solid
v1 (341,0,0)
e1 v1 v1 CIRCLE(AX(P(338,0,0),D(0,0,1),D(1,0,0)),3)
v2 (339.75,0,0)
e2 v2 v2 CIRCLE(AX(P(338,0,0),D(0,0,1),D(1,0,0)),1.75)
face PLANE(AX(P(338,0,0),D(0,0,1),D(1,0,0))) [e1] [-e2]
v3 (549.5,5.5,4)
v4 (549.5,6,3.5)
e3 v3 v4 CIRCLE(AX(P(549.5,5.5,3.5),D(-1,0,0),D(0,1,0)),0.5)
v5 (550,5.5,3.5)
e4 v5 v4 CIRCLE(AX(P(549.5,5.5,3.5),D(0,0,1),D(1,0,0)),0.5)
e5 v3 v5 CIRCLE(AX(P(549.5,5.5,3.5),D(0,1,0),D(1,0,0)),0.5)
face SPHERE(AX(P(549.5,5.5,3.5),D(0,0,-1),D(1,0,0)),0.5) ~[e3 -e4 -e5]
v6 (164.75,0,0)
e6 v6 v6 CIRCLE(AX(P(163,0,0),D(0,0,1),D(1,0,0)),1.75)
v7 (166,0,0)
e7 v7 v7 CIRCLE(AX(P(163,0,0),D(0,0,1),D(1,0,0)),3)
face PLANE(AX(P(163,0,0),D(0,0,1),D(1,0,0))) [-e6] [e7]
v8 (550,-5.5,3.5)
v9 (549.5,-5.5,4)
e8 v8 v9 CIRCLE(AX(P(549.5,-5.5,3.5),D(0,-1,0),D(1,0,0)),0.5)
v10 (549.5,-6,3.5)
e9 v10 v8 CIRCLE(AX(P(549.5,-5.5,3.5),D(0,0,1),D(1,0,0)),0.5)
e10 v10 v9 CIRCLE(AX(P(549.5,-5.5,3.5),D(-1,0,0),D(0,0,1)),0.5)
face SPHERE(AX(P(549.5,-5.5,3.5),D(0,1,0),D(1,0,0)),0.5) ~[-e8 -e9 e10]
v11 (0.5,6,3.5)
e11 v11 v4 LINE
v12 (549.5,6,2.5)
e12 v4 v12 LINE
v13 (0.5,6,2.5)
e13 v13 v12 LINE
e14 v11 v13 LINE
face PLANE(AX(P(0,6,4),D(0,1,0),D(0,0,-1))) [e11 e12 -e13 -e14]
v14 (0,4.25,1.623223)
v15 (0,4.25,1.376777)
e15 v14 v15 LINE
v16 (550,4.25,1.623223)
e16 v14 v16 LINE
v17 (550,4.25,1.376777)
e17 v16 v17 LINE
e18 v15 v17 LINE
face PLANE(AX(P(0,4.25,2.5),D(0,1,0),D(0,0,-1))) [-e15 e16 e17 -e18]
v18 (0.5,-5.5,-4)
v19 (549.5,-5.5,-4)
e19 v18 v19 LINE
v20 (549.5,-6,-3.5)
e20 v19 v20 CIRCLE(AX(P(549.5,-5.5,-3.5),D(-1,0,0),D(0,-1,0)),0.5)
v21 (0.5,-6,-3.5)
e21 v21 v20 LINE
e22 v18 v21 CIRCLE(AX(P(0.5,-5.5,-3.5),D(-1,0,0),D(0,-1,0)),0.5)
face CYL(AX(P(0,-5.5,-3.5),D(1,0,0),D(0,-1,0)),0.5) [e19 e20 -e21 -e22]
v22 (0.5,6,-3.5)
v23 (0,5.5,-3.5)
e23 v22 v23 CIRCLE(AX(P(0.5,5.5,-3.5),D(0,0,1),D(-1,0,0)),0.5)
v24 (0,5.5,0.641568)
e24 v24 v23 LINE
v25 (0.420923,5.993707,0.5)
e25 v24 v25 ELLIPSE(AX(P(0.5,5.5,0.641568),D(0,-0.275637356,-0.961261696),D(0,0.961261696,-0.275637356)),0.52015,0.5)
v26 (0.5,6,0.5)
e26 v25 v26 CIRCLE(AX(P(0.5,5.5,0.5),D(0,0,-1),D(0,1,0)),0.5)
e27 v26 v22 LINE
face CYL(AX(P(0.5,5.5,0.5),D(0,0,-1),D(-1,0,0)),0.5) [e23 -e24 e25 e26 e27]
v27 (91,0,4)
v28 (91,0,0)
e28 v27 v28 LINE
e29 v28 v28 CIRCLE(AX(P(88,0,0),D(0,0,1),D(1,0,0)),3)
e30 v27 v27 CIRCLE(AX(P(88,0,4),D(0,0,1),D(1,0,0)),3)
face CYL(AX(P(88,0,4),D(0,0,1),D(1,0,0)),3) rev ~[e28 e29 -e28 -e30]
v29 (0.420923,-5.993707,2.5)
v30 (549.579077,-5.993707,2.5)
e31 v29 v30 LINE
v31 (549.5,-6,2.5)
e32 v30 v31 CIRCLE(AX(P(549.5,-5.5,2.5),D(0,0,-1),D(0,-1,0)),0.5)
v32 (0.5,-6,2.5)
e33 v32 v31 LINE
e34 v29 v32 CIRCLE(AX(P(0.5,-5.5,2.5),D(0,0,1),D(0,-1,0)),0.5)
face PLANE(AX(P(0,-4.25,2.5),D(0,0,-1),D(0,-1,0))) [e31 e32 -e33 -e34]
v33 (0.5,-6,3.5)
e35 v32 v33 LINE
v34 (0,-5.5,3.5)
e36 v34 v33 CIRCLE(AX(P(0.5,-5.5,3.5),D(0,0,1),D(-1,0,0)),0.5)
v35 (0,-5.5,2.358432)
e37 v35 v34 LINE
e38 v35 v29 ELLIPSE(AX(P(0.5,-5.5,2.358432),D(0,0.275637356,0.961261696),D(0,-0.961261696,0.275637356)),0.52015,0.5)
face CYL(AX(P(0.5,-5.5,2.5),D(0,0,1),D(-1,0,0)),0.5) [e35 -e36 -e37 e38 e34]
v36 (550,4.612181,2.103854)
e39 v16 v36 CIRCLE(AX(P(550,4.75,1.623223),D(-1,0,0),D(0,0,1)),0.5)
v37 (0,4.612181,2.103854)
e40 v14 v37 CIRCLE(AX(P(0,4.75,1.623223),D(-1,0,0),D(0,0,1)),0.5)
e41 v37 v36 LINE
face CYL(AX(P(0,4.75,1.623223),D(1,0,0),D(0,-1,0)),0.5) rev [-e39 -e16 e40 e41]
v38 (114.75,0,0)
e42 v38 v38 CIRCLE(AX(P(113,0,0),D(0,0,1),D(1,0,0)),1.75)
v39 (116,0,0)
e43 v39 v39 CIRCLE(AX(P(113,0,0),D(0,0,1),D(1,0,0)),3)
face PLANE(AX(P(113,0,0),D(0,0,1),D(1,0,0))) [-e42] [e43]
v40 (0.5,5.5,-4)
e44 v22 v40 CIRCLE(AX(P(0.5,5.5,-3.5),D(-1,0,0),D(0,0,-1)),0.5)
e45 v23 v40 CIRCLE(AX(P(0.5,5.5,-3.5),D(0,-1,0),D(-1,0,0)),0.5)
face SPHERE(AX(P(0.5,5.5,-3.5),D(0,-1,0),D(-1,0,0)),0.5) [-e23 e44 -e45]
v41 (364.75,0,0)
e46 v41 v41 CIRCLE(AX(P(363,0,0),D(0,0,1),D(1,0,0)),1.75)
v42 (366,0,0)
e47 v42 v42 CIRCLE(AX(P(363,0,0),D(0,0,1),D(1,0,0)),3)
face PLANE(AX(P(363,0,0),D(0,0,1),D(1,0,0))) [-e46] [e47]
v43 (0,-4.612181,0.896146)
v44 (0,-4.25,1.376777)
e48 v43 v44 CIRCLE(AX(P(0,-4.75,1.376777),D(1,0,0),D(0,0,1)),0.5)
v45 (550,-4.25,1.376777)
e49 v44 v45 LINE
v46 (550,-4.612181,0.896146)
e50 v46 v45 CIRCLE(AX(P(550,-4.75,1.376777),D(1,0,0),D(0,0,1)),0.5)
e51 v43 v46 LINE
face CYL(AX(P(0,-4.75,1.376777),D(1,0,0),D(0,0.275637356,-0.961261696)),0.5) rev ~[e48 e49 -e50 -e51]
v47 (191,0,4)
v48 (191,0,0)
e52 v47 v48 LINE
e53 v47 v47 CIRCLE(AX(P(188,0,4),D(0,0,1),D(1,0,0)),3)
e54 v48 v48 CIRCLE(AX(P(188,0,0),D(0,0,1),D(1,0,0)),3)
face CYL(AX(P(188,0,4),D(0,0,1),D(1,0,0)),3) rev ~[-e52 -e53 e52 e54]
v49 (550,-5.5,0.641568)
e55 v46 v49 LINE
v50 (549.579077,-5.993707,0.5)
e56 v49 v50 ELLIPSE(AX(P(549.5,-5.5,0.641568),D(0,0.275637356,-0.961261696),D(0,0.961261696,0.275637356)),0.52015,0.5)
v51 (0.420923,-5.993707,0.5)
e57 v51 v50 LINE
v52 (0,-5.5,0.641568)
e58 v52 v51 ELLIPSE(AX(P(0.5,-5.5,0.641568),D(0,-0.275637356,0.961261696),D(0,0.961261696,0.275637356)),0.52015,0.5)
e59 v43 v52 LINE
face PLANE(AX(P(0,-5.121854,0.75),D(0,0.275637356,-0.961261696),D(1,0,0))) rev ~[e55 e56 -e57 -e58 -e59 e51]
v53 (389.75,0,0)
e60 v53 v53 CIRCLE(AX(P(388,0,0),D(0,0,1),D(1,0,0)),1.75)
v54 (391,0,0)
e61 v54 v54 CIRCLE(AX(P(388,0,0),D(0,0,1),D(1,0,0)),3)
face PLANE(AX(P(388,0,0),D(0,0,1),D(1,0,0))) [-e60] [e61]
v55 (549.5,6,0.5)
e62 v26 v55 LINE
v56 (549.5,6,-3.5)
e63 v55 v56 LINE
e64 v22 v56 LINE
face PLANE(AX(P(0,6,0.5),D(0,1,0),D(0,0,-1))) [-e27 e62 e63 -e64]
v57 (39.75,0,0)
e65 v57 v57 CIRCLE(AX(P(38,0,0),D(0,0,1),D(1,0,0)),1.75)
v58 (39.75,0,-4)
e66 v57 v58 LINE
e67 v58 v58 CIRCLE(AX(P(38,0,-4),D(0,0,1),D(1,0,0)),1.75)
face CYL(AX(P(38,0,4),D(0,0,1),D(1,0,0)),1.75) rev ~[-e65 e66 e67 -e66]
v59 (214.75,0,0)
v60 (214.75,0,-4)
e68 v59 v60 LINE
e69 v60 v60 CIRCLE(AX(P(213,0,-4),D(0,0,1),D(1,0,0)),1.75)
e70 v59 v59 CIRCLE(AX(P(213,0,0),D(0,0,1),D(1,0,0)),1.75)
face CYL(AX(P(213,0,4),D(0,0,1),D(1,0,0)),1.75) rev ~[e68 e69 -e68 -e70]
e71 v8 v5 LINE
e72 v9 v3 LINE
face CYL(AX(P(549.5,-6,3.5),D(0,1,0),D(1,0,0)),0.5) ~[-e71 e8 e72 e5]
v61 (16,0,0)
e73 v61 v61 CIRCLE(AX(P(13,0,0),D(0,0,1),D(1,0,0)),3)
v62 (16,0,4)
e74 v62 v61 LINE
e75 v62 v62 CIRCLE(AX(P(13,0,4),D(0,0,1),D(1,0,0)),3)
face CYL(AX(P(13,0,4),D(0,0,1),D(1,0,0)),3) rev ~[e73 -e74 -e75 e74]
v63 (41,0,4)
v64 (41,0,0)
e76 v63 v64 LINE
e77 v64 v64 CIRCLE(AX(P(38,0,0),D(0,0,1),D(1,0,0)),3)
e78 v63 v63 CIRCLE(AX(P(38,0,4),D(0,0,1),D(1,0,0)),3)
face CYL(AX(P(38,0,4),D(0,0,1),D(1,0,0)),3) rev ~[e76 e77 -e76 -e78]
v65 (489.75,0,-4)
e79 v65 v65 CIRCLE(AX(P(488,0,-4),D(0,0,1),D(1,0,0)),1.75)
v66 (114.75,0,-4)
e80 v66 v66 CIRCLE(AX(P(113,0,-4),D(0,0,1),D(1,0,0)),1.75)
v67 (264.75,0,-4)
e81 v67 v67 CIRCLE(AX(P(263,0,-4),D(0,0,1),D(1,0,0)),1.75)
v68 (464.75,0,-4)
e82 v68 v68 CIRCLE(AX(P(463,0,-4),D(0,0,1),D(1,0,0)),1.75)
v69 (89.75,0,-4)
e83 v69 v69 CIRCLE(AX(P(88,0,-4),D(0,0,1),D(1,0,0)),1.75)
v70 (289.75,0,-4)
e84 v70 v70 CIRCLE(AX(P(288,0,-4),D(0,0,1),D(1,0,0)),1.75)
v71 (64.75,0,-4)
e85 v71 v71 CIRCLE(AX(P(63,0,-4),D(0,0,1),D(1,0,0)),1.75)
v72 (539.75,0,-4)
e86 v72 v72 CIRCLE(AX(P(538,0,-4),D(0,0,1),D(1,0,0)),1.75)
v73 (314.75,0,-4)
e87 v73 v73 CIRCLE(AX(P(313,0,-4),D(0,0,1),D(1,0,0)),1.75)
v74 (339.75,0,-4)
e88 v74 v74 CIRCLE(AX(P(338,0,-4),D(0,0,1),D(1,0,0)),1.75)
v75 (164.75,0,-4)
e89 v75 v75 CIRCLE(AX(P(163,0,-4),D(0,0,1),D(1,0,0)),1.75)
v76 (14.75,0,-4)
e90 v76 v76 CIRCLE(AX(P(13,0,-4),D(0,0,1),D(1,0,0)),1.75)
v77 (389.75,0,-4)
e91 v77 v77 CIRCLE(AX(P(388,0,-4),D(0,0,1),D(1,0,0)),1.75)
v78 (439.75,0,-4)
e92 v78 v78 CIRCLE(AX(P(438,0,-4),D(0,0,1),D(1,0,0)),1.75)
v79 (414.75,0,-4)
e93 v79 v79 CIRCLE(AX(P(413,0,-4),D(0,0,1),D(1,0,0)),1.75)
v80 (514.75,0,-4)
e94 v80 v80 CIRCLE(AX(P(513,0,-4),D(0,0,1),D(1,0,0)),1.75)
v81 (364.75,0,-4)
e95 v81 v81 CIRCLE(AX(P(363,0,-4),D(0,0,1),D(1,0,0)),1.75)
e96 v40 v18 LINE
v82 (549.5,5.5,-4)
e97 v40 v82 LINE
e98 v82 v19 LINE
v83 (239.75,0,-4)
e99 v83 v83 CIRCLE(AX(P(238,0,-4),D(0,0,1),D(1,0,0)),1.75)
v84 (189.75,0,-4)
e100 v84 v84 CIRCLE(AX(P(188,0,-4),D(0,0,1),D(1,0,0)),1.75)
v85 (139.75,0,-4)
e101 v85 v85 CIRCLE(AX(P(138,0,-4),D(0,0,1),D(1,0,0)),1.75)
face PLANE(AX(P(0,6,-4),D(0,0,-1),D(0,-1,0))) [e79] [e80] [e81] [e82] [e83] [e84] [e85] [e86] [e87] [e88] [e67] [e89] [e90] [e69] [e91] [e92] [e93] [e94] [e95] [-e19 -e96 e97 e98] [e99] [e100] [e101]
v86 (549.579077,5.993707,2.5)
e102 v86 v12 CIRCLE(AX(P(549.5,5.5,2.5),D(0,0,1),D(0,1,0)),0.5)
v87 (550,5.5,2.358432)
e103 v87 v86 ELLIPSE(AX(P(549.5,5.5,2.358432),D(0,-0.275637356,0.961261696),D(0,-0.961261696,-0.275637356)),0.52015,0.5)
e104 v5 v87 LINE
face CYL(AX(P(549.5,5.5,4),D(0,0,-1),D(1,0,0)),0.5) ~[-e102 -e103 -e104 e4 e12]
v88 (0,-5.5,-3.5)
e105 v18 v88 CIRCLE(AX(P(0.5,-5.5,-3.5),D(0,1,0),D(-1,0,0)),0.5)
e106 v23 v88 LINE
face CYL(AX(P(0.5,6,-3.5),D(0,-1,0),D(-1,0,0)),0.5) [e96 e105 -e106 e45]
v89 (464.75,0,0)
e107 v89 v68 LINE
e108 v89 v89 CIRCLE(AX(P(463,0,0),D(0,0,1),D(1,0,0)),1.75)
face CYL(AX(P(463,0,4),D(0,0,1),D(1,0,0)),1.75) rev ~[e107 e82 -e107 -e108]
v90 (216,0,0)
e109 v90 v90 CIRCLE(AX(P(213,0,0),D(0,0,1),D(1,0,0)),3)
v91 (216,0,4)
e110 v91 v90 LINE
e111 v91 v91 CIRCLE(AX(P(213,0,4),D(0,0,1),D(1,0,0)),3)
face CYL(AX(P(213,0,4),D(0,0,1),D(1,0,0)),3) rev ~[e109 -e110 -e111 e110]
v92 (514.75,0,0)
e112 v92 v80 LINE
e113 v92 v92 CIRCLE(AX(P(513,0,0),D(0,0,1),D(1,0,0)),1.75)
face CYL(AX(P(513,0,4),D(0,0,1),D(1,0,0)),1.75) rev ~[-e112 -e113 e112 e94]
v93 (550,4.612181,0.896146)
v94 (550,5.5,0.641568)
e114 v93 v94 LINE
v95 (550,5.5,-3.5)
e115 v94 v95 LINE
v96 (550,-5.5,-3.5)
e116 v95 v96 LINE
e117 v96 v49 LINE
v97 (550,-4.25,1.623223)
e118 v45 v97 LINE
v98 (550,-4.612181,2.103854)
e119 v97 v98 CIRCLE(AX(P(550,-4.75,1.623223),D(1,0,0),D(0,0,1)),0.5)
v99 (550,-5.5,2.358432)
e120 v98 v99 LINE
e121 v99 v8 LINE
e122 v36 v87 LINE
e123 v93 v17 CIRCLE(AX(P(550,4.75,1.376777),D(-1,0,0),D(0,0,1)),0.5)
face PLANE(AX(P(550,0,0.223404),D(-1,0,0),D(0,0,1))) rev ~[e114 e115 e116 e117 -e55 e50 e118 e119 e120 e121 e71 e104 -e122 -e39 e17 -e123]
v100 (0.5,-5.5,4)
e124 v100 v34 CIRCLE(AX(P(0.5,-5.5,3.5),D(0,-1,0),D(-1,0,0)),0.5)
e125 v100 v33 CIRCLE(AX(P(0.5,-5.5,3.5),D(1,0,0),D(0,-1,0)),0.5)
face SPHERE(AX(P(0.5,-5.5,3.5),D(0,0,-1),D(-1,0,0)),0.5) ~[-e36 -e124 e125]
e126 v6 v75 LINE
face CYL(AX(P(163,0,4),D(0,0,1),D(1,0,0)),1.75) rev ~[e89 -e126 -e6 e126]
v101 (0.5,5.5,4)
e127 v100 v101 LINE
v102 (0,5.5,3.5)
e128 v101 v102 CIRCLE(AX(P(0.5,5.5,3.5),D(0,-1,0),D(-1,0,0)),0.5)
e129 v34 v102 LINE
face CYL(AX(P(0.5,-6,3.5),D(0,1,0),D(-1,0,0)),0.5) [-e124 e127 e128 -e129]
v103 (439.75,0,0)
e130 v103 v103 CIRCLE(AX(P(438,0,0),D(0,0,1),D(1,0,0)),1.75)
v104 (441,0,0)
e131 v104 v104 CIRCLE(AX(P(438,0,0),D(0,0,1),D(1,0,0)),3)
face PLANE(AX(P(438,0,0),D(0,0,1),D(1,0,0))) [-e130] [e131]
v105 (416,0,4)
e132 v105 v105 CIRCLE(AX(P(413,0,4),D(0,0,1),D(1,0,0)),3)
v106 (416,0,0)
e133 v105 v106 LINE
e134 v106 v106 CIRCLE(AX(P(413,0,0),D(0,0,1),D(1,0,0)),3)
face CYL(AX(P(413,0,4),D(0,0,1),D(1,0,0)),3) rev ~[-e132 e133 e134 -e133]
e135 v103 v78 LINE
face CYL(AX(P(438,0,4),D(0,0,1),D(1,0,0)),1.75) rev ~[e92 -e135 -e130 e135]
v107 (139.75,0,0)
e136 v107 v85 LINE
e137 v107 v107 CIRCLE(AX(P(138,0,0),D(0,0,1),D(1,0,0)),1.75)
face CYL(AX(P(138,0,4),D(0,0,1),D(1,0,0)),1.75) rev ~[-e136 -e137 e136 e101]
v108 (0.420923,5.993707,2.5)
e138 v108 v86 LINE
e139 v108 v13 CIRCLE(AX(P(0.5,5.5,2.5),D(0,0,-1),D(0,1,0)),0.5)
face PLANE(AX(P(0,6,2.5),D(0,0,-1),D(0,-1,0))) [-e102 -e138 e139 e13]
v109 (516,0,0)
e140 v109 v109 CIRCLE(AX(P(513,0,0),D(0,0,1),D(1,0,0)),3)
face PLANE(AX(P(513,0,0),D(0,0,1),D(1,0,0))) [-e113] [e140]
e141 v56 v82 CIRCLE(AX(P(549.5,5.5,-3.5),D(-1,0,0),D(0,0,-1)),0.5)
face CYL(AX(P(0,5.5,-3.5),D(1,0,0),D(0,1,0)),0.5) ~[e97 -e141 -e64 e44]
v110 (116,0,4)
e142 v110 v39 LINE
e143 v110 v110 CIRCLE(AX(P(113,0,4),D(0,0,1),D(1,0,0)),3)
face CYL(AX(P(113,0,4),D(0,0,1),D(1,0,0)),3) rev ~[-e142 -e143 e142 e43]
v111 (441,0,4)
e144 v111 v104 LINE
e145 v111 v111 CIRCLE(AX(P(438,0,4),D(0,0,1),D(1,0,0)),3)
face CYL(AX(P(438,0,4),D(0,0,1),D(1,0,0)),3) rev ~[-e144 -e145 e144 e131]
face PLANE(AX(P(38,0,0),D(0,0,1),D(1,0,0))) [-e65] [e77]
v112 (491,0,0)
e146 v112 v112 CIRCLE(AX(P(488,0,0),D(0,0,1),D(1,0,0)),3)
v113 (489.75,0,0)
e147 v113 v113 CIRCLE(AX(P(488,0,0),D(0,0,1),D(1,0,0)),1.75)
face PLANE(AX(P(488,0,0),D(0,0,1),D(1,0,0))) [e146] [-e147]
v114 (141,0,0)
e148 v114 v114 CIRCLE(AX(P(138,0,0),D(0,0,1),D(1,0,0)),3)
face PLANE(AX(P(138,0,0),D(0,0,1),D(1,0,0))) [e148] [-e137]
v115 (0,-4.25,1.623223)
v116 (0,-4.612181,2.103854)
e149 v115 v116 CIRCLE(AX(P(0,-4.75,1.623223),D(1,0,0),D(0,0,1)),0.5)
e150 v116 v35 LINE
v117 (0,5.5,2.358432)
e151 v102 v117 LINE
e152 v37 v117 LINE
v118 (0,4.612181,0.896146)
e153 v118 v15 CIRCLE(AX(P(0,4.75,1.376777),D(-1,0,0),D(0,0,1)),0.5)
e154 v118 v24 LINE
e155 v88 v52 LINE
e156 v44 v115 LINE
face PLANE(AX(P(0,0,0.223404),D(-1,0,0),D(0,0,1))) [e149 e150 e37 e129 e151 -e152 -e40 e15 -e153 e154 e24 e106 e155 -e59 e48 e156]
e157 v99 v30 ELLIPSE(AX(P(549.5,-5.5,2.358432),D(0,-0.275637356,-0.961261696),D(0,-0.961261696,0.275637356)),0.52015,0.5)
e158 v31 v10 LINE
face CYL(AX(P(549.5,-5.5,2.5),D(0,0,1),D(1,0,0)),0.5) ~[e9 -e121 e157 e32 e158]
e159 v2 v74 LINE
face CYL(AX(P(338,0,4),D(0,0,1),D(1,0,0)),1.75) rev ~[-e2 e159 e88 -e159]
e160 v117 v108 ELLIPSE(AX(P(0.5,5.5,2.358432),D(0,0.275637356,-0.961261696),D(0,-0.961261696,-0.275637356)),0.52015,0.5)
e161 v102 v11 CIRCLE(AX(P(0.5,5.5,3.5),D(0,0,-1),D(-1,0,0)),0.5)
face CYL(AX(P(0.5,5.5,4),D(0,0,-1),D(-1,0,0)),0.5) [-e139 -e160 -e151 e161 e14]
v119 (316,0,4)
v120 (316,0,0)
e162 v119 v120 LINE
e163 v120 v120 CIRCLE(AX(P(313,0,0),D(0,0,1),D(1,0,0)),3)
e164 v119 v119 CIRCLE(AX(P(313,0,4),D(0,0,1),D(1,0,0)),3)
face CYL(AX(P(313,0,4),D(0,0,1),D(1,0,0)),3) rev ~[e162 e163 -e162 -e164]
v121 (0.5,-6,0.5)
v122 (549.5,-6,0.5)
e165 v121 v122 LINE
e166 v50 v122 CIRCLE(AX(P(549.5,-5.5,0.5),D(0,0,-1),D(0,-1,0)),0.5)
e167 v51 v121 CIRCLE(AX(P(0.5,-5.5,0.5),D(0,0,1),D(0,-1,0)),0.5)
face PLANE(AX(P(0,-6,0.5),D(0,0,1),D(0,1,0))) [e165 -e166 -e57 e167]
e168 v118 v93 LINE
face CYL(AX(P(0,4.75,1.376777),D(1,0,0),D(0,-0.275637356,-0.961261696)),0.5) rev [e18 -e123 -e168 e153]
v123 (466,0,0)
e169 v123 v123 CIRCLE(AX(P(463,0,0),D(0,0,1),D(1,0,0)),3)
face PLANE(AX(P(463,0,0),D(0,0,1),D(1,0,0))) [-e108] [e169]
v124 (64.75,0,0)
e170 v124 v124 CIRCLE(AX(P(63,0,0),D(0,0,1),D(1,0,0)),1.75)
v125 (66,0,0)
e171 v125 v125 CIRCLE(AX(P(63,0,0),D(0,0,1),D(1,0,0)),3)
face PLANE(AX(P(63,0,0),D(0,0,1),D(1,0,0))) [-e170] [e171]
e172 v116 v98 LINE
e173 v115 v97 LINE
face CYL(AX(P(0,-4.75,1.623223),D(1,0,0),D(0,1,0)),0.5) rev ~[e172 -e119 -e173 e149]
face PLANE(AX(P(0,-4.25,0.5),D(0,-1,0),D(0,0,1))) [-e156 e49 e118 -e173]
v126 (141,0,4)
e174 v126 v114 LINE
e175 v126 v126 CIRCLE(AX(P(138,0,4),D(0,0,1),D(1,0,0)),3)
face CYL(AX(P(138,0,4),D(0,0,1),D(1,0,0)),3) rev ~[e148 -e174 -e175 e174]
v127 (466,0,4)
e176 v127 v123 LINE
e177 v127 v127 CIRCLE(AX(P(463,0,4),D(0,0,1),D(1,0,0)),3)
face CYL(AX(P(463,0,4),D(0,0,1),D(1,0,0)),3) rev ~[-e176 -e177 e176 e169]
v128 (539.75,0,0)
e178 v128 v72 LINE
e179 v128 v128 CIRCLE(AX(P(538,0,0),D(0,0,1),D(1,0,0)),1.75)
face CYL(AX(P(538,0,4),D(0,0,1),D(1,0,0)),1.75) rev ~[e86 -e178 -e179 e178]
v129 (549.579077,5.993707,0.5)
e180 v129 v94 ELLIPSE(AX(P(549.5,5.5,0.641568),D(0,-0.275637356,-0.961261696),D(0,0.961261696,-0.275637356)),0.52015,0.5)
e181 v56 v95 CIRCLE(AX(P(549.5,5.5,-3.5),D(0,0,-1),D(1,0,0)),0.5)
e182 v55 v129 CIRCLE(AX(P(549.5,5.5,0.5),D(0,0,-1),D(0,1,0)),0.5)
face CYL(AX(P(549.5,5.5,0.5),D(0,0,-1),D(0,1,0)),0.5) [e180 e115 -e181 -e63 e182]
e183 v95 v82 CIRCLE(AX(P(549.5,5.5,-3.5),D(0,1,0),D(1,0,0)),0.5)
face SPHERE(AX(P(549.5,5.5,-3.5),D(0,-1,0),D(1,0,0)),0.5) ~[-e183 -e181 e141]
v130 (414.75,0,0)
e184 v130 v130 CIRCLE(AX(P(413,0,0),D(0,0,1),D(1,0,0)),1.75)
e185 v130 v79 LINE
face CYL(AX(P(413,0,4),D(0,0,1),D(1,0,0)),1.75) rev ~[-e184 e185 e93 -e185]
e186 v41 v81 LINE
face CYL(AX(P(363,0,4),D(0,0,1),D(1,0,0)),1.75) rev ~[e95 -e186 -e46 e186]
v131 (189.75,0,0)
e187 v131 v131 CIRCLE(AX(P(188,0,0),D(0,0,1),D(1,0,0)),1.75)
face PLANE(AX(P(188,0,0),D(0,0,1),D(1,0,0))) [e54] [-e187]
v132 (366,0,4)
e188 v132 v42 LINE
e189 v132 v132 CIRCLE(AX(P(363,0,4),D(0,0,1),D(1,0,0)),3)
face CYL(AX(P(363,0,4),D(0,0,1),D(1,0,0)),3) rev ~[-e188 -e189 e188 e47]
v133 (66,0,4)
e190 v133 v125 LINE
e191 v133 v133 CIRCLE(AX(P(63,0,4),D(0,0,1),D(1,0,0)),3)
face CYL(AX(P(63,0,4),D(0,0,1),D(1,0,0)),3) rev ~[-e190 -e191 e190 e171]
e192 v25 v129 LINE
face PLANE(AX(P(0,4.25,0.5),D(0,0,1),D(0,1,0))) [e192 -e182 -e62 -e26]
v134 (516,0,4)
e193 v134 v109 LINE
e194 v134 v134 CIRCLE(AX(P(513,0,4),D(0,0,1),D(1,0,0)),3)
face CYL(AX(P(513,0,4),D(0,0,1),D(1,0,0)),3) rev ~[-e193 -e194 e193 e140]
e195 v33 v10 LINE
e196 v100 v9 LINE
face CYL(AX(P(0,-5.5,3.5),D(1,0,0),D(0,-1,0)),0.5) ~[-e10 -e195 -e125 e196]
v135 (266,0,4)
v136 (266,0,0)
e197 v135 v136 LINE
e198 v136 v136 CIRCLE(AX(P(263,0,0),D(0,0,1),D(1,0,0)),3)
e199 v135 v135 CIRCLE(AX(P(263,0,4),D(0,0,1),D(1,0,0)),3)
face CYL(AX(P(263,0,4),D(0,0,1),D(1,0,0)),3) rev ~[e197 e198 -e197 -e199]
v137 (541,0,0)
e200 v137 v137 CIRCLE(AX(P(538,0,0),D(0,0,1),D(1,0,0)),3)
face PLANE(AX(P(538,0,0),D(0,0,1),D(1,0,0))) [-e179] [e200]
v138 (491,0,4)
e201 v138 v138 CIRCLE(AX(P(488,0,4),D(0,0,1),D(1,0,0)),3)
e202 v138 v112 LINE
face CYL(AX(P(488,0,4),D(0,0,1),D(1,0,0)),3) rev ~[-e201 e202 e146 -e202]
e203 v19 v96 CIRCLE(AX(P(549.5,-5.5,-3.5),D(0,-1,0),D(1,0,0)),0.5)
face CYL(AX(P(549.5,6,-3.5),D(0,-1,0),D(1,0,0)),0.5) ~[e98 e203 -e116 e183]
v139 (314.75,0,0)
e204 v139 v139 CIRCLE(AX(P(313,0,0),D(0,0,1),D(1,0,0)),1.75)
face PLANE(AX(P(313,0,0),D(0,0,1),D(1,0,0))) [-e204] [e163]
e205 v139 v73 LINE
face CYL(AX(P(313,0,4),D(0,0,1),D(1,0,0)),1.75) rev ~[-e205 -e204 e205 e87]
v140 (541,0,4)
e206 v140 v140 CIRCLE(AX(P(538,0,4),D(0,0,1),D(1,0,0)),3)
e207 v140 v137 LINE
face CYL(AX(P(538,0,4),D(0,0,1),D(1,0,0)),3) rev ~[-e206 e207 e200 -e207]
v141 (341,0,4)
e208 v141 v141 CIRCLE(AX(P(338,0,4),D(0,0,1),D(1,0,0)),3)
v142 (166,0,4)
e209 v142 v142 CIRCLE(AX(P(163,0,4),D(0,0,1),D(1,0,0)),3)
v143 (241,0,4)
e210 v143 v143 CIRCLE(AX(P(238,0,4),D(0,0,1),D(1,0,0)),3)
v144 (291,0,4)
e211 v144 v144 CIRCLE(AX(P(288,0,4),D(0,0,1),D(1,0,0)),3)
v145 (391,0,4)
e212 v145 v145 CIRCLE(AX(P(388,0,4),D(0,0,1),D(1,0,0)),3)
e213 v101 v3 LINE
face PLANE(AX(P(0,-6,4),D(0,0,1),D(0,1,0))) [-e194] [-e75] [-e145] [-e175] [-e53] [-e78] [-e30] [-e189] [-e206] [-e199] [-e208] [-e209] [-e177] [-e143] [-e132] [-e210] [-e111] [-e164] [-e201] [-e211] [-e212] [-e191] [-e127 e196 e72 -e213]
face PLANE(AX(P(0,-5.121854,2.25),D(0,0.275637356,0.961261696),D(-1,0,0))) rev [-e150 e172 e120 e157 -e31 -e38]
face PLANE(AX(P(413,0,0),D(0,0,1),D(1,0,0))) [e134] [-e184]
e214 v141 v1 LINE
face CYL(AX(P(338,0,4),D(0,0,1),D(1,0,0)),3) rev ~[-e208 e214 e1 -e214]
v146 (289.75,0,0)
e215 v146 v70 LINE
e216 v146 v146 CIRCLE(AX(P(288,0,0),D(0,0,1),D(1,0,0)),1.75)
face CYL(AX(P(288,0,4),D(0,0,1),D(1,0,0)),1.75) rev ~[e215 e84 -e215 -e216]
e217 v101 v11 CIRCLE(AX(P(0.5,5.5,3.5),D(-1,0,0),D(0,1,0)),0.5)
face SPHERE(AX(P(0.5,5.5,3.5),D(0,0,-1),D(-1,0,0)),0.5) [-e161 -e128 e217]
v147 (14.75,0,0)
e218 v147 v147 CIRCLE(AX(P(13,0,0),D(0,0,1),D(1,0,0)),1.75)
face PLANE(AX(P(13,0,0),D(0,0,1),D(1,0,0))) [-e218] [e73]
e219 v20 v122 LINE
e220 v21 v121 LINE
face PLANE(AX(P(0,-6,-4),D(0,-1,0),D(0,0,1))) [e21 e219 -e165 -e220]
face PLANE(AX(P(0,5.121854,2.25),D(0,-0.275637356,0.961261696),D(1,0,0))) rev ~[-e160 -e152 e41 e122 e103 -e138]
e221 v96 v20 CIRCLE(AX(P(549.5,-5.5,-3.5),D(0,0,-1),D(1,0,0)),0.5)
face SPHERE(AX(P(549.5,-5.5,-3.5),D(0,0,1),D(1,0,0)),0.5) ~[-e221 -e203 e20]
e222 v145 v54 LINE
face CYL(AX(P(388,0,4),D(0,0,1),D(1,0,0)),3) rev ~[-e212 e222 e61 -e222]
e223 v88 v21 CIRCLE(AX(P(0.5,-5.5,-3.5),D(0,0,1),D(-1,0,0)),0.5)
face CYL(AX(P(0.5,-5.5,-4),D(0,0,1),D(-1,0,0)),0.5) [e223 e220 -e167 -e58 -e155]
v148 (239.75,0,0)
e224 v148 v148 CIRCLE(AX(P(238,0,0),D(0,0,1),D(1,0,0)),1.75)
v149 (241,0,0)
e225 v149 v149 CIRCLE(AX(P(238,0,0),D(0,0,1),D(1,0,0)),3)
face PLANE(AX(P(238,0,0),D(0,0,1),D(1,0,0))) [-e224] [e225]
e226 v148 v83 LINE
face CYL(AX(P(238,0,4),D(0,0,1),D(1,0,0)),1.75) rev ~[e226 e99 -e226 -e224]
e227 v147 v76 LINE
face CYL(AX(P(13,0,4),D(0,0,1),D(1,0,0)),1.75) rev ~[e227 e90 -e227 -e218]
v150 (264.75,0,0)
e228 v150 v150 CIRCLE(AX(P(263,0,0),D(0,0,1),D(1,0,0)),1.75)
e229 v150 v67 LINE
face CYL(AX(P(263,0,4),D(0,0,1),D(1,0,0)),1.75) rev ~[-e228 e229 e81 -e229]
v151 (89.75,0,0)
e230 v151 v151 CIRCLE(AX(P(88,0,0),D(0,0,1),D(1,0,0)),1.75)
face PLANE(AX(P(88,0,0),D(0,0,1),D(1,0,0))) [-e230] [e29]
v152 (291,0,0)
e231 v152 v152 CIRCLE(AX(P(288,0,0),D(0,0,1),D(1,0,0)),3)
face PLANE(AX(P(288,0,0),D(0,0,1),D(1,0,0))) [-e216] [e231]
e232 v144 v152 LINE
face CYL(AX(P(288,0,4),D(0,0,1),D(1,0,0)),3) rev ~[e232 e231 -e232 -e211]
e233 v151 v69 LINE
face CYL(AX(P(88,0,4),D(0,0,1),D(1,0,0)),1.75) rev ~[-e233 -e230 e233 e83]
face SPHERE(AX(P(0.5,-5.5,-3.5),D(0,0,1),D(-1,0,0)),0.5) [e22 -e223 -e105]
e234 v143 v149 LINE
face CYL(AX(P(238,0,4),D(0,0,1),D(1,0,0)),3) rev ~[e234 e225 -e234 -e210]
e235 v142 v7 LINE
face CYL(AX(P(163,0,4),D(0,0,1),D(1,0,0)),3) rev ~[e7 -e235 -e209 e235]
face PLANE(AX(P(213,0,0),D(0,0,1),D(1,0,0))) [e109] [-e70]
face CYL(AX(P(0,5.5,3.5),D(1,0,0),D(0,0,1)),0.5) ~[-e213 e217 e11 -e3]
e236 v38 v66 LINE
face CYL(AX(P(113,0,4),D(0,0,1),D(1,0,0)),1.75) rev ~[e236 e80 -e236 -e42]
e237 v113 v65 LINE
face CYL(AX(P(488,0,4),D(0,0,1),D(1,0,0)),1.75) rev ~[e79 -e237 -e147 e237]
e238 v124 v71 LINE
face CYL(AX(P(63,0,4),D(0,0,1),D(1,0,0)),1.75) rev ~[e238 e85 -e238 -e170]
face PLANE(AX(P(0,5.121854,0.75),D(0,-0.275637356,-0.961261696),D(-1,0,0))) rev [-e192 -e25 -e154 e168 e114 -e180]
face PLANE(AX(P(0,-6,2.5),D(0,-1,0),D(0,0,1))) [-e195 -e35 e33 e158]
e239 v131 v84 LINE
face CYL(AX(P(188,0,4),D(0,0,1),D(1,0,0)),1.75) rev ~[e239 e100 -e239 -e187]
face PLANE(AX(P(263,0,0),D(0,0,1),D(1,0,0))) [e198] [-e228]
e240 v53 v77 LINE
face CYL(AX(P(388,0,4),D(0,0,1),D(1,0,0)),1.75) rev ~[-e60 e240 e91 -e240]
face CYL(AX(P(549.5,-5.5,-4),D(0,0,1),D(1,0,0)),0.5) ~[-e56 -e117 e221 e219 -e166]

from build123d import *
from OCP.BRepFilletAPI import BRepFilletAPI_MakeChamfer

# Parameters (mm, degrees)
BOSS_EXTRUDE1_DEPTH = 550
SKETCH2_R           = 1.75
CUT_EXTRUDE1_DEPTH  = 10
SKETCH3_R           = 3
CUT_EXTRUDE2_DEPTH  = 4
CHAMFER1_SIZE       = 0.5
CHAMFER1_SIZE2      = 1.743707222
FILLET1_R           = 0.5


with BuildPart() as part:
    # Sketch1 → Boss-Extrude1 (new body)
    with BuildSketch(Plane(origin=(0, 0, 0), x_dir=(0, 0, -1), z_dir=(1, 0, 0))):
        Polygon((-0.5, 6), (4, 6), (4, -6), (-0.5, -6), (-0.5, -4.25), (-2.5, -4.25), (-2.5, -6), (-4, -6), (-4, 6), (-2.5, 6), (-2.5, 4.25), (-0.5, 4.25), align=None)
    extrude(amount=BOSS_EXTRUDE1_DEPTH)

    # Sketch2 → Cut-Extrude1 (cut)
    with BuildSketch(Plane.XY.offset(4)):
        with Locations((13, 0)):
            Circle(SKETCH2_R)
        with Locations((38, 0)):
            Circle(SKETCH2_R)
        with Locations((63, 0)):
            Circle(SKETCH2_R)
        with Locations((88, 0)):
            Circle(SKETCH2_R)
        with Locations((113, 0)):
            Circle(SKETCH2_R)
        with Locations((138, 0)):
            Circle(SKETCH2_R)
        with Locations((163, 0)):
            Circle(SKETCH2_R)
        with Locations((188, 0)):
            Circle(SKETCH2_R)
        with Locations((213, 0)):
            Circle(SKETCH2_R)
        with Locations((238, 0)):
            Circle(SKETCH2_R)
        with Locations((263, 0)):
            Circle(SKETCH2_R)
        with Locations((288, 0)):
            Circle(SKETCH2_R)
        with Locations((313, 0)):
            Circle(SKETCH2_R)
        with Locations((338, 0)):
            Circle(SKETCH2_R)
        with Locations((363, 0)):
            Circle(SKETCH2_R)
        with Locations((388, 0)):
            Circle(SKETCH2_R)
        with Locations((413, 0)):
            Circle(SKETCH2_R)
        with Locations((438, 0)):
            Circle(SKETCH2_R)
        with Locations((463, 0)):
            Circle(SKETCH2_R)
        with Locations((488, 0)):
            Circle(SKETCH2_R)
        with Locations((513, 0)):
            Circle(SKETCH2_R)
        with Locations((538, 0)):
            Circle(SKETCH2_R)
    extrude(amount=-CUT_EXTRUDE1_DEPTH, mode=Mode.SUBTRACT)

    # Sketch3 → Cut-Extrude2 (cut)
    with BuildSketch(Plane.XY.offset(4)):
        with Locations((13, 0)):
            Circle(SKETCH3_R)
        with Locations((38, 0)):
            Circle(SKETCH3_R)
        with Locations((63, 0)):
            Circle(SKETCH3_R)
        with Locations((88, 0)):
            Circle(SKETCH3_R)
        with Locations((113, 0)):
            Circle(SKETCH3_R)
        with Locations((138, 0)):
            Circle(SKETCH3_R)
        with Locations((163, 0)):
            Circle(SKETCH3_R)
        with Locations((188, 0)):
            Circle(SKETCH3_R)
        with Locations((213, 0)):
            Circle(SKETCH3_R)
        with Locations((238, 0)):
            Circle(SKETCH3_R)
        with Locations((263, 0)):
            Circle(SKETCH3_R)
        with Locations((288, 0)):
            Circle(SKETCH3_R)
        with Locations((313, 0)):
            Circle(SKETCH3_R)
        with Locations((338, 0)):
            Circle(SKETCH3_R)
        with Locations((363, 0)):
            Circle(SKETCH3_R)
        with Locations((388, 0)):
            Circle(SKETCH3_R)
        with Locations((413, 0)):
            Circle(SKETCH3_R)
        with Locations((438, 0)):
            Circle(SKETCH3_R)
        with Locations((463, 0)):
            Circle(SKETCH3_R)
        with Locations((488, 0)):
            Circle(SKETCH3_R)
        with Locations((513, 0)):
            Circle(SKETCH3_R)
        with Locations((538, 0)):
            Circle(SKETCH3_R)
    extrude(amount=-CUT_EXTRUDE2_DEPTH, mode=Mode.SUBTRACT)

    # Chamfer1: one chamfer whose edges measure the first distance from different faces: ONE call of the kernel's chamfer builder (chamfer() names one face for all edges)
    chamfer1_edges_1 = [part.edges().sort_by_distance(p)[0] for p in [
        (275, -4.25, 0.5),
        (275, -4.25, 2.5),
    ]]
    chamfer1_side_1 = [part.faces().sort_by_distance(p)[0] for p in [
        (275, -4.25, 1.5),
    ]]
    chamfer1_edges_2 = [part.edges().sort_by_distance(p)[0] for p in [
        (275, 4.25, 2.5),
        (275, 4.25, 0.5),
    ]]
    chamfer1_side_2 = [part.faces().sort_by_distance(p)[0] for p in [
        (275, 4.25, 1.5),
    ]]
    chamfer1 = BRepFilletAPI_MakeChamfer(part.part.solid().wrapped)
    for e in chamfer1_edges_1:
        chamfer1.Add(CHAMFER1_SIZE, CHAMFER1_SIZE2, e.wrapped, chamfer1_side_1[0].wrapped)  # the first distance lies on this face
    for e in chamfer1_edges_2:
        chamfer1.Add(CHAMFER1_SIZE, CHAMFER1_SIZE2, e.wrapped, chamfer1_side_2[0].wrapped)  # the first distance lies on this face
    add(Compound.cast(chamfer1.Shape()), mode=Mode.REPLACE)

    # Fillet1
    fillet1_edges = [part.edges().sort_by_distance(p)[0] for p in [
        (550, -6, -1.75),
        (550, 0, -4),
        (550, 6, -1.75),
        (550, 6, 3.25),
        (550, 0, 4),
        (550, -6, 3.25),
        (0, -6, 3.25),
        (0, -6, -1.75),
        (0, 0, -4),
        (0, 6, -1.75),
        (0, 6, 3.25),
        (0, 0, 4),
        (275, -4.25, 1),
        (275, -4.25, 2),
        (275, 4.25, 2),
        (275, 4.25, 1),
        (275, -6, 4),
        (275, 6, 4),
        (275, -6, -4),
        (275, 6, -4),
    ]]
    fillet(fillet1_edges, radius=FILLET1_R)


solid = part.part
